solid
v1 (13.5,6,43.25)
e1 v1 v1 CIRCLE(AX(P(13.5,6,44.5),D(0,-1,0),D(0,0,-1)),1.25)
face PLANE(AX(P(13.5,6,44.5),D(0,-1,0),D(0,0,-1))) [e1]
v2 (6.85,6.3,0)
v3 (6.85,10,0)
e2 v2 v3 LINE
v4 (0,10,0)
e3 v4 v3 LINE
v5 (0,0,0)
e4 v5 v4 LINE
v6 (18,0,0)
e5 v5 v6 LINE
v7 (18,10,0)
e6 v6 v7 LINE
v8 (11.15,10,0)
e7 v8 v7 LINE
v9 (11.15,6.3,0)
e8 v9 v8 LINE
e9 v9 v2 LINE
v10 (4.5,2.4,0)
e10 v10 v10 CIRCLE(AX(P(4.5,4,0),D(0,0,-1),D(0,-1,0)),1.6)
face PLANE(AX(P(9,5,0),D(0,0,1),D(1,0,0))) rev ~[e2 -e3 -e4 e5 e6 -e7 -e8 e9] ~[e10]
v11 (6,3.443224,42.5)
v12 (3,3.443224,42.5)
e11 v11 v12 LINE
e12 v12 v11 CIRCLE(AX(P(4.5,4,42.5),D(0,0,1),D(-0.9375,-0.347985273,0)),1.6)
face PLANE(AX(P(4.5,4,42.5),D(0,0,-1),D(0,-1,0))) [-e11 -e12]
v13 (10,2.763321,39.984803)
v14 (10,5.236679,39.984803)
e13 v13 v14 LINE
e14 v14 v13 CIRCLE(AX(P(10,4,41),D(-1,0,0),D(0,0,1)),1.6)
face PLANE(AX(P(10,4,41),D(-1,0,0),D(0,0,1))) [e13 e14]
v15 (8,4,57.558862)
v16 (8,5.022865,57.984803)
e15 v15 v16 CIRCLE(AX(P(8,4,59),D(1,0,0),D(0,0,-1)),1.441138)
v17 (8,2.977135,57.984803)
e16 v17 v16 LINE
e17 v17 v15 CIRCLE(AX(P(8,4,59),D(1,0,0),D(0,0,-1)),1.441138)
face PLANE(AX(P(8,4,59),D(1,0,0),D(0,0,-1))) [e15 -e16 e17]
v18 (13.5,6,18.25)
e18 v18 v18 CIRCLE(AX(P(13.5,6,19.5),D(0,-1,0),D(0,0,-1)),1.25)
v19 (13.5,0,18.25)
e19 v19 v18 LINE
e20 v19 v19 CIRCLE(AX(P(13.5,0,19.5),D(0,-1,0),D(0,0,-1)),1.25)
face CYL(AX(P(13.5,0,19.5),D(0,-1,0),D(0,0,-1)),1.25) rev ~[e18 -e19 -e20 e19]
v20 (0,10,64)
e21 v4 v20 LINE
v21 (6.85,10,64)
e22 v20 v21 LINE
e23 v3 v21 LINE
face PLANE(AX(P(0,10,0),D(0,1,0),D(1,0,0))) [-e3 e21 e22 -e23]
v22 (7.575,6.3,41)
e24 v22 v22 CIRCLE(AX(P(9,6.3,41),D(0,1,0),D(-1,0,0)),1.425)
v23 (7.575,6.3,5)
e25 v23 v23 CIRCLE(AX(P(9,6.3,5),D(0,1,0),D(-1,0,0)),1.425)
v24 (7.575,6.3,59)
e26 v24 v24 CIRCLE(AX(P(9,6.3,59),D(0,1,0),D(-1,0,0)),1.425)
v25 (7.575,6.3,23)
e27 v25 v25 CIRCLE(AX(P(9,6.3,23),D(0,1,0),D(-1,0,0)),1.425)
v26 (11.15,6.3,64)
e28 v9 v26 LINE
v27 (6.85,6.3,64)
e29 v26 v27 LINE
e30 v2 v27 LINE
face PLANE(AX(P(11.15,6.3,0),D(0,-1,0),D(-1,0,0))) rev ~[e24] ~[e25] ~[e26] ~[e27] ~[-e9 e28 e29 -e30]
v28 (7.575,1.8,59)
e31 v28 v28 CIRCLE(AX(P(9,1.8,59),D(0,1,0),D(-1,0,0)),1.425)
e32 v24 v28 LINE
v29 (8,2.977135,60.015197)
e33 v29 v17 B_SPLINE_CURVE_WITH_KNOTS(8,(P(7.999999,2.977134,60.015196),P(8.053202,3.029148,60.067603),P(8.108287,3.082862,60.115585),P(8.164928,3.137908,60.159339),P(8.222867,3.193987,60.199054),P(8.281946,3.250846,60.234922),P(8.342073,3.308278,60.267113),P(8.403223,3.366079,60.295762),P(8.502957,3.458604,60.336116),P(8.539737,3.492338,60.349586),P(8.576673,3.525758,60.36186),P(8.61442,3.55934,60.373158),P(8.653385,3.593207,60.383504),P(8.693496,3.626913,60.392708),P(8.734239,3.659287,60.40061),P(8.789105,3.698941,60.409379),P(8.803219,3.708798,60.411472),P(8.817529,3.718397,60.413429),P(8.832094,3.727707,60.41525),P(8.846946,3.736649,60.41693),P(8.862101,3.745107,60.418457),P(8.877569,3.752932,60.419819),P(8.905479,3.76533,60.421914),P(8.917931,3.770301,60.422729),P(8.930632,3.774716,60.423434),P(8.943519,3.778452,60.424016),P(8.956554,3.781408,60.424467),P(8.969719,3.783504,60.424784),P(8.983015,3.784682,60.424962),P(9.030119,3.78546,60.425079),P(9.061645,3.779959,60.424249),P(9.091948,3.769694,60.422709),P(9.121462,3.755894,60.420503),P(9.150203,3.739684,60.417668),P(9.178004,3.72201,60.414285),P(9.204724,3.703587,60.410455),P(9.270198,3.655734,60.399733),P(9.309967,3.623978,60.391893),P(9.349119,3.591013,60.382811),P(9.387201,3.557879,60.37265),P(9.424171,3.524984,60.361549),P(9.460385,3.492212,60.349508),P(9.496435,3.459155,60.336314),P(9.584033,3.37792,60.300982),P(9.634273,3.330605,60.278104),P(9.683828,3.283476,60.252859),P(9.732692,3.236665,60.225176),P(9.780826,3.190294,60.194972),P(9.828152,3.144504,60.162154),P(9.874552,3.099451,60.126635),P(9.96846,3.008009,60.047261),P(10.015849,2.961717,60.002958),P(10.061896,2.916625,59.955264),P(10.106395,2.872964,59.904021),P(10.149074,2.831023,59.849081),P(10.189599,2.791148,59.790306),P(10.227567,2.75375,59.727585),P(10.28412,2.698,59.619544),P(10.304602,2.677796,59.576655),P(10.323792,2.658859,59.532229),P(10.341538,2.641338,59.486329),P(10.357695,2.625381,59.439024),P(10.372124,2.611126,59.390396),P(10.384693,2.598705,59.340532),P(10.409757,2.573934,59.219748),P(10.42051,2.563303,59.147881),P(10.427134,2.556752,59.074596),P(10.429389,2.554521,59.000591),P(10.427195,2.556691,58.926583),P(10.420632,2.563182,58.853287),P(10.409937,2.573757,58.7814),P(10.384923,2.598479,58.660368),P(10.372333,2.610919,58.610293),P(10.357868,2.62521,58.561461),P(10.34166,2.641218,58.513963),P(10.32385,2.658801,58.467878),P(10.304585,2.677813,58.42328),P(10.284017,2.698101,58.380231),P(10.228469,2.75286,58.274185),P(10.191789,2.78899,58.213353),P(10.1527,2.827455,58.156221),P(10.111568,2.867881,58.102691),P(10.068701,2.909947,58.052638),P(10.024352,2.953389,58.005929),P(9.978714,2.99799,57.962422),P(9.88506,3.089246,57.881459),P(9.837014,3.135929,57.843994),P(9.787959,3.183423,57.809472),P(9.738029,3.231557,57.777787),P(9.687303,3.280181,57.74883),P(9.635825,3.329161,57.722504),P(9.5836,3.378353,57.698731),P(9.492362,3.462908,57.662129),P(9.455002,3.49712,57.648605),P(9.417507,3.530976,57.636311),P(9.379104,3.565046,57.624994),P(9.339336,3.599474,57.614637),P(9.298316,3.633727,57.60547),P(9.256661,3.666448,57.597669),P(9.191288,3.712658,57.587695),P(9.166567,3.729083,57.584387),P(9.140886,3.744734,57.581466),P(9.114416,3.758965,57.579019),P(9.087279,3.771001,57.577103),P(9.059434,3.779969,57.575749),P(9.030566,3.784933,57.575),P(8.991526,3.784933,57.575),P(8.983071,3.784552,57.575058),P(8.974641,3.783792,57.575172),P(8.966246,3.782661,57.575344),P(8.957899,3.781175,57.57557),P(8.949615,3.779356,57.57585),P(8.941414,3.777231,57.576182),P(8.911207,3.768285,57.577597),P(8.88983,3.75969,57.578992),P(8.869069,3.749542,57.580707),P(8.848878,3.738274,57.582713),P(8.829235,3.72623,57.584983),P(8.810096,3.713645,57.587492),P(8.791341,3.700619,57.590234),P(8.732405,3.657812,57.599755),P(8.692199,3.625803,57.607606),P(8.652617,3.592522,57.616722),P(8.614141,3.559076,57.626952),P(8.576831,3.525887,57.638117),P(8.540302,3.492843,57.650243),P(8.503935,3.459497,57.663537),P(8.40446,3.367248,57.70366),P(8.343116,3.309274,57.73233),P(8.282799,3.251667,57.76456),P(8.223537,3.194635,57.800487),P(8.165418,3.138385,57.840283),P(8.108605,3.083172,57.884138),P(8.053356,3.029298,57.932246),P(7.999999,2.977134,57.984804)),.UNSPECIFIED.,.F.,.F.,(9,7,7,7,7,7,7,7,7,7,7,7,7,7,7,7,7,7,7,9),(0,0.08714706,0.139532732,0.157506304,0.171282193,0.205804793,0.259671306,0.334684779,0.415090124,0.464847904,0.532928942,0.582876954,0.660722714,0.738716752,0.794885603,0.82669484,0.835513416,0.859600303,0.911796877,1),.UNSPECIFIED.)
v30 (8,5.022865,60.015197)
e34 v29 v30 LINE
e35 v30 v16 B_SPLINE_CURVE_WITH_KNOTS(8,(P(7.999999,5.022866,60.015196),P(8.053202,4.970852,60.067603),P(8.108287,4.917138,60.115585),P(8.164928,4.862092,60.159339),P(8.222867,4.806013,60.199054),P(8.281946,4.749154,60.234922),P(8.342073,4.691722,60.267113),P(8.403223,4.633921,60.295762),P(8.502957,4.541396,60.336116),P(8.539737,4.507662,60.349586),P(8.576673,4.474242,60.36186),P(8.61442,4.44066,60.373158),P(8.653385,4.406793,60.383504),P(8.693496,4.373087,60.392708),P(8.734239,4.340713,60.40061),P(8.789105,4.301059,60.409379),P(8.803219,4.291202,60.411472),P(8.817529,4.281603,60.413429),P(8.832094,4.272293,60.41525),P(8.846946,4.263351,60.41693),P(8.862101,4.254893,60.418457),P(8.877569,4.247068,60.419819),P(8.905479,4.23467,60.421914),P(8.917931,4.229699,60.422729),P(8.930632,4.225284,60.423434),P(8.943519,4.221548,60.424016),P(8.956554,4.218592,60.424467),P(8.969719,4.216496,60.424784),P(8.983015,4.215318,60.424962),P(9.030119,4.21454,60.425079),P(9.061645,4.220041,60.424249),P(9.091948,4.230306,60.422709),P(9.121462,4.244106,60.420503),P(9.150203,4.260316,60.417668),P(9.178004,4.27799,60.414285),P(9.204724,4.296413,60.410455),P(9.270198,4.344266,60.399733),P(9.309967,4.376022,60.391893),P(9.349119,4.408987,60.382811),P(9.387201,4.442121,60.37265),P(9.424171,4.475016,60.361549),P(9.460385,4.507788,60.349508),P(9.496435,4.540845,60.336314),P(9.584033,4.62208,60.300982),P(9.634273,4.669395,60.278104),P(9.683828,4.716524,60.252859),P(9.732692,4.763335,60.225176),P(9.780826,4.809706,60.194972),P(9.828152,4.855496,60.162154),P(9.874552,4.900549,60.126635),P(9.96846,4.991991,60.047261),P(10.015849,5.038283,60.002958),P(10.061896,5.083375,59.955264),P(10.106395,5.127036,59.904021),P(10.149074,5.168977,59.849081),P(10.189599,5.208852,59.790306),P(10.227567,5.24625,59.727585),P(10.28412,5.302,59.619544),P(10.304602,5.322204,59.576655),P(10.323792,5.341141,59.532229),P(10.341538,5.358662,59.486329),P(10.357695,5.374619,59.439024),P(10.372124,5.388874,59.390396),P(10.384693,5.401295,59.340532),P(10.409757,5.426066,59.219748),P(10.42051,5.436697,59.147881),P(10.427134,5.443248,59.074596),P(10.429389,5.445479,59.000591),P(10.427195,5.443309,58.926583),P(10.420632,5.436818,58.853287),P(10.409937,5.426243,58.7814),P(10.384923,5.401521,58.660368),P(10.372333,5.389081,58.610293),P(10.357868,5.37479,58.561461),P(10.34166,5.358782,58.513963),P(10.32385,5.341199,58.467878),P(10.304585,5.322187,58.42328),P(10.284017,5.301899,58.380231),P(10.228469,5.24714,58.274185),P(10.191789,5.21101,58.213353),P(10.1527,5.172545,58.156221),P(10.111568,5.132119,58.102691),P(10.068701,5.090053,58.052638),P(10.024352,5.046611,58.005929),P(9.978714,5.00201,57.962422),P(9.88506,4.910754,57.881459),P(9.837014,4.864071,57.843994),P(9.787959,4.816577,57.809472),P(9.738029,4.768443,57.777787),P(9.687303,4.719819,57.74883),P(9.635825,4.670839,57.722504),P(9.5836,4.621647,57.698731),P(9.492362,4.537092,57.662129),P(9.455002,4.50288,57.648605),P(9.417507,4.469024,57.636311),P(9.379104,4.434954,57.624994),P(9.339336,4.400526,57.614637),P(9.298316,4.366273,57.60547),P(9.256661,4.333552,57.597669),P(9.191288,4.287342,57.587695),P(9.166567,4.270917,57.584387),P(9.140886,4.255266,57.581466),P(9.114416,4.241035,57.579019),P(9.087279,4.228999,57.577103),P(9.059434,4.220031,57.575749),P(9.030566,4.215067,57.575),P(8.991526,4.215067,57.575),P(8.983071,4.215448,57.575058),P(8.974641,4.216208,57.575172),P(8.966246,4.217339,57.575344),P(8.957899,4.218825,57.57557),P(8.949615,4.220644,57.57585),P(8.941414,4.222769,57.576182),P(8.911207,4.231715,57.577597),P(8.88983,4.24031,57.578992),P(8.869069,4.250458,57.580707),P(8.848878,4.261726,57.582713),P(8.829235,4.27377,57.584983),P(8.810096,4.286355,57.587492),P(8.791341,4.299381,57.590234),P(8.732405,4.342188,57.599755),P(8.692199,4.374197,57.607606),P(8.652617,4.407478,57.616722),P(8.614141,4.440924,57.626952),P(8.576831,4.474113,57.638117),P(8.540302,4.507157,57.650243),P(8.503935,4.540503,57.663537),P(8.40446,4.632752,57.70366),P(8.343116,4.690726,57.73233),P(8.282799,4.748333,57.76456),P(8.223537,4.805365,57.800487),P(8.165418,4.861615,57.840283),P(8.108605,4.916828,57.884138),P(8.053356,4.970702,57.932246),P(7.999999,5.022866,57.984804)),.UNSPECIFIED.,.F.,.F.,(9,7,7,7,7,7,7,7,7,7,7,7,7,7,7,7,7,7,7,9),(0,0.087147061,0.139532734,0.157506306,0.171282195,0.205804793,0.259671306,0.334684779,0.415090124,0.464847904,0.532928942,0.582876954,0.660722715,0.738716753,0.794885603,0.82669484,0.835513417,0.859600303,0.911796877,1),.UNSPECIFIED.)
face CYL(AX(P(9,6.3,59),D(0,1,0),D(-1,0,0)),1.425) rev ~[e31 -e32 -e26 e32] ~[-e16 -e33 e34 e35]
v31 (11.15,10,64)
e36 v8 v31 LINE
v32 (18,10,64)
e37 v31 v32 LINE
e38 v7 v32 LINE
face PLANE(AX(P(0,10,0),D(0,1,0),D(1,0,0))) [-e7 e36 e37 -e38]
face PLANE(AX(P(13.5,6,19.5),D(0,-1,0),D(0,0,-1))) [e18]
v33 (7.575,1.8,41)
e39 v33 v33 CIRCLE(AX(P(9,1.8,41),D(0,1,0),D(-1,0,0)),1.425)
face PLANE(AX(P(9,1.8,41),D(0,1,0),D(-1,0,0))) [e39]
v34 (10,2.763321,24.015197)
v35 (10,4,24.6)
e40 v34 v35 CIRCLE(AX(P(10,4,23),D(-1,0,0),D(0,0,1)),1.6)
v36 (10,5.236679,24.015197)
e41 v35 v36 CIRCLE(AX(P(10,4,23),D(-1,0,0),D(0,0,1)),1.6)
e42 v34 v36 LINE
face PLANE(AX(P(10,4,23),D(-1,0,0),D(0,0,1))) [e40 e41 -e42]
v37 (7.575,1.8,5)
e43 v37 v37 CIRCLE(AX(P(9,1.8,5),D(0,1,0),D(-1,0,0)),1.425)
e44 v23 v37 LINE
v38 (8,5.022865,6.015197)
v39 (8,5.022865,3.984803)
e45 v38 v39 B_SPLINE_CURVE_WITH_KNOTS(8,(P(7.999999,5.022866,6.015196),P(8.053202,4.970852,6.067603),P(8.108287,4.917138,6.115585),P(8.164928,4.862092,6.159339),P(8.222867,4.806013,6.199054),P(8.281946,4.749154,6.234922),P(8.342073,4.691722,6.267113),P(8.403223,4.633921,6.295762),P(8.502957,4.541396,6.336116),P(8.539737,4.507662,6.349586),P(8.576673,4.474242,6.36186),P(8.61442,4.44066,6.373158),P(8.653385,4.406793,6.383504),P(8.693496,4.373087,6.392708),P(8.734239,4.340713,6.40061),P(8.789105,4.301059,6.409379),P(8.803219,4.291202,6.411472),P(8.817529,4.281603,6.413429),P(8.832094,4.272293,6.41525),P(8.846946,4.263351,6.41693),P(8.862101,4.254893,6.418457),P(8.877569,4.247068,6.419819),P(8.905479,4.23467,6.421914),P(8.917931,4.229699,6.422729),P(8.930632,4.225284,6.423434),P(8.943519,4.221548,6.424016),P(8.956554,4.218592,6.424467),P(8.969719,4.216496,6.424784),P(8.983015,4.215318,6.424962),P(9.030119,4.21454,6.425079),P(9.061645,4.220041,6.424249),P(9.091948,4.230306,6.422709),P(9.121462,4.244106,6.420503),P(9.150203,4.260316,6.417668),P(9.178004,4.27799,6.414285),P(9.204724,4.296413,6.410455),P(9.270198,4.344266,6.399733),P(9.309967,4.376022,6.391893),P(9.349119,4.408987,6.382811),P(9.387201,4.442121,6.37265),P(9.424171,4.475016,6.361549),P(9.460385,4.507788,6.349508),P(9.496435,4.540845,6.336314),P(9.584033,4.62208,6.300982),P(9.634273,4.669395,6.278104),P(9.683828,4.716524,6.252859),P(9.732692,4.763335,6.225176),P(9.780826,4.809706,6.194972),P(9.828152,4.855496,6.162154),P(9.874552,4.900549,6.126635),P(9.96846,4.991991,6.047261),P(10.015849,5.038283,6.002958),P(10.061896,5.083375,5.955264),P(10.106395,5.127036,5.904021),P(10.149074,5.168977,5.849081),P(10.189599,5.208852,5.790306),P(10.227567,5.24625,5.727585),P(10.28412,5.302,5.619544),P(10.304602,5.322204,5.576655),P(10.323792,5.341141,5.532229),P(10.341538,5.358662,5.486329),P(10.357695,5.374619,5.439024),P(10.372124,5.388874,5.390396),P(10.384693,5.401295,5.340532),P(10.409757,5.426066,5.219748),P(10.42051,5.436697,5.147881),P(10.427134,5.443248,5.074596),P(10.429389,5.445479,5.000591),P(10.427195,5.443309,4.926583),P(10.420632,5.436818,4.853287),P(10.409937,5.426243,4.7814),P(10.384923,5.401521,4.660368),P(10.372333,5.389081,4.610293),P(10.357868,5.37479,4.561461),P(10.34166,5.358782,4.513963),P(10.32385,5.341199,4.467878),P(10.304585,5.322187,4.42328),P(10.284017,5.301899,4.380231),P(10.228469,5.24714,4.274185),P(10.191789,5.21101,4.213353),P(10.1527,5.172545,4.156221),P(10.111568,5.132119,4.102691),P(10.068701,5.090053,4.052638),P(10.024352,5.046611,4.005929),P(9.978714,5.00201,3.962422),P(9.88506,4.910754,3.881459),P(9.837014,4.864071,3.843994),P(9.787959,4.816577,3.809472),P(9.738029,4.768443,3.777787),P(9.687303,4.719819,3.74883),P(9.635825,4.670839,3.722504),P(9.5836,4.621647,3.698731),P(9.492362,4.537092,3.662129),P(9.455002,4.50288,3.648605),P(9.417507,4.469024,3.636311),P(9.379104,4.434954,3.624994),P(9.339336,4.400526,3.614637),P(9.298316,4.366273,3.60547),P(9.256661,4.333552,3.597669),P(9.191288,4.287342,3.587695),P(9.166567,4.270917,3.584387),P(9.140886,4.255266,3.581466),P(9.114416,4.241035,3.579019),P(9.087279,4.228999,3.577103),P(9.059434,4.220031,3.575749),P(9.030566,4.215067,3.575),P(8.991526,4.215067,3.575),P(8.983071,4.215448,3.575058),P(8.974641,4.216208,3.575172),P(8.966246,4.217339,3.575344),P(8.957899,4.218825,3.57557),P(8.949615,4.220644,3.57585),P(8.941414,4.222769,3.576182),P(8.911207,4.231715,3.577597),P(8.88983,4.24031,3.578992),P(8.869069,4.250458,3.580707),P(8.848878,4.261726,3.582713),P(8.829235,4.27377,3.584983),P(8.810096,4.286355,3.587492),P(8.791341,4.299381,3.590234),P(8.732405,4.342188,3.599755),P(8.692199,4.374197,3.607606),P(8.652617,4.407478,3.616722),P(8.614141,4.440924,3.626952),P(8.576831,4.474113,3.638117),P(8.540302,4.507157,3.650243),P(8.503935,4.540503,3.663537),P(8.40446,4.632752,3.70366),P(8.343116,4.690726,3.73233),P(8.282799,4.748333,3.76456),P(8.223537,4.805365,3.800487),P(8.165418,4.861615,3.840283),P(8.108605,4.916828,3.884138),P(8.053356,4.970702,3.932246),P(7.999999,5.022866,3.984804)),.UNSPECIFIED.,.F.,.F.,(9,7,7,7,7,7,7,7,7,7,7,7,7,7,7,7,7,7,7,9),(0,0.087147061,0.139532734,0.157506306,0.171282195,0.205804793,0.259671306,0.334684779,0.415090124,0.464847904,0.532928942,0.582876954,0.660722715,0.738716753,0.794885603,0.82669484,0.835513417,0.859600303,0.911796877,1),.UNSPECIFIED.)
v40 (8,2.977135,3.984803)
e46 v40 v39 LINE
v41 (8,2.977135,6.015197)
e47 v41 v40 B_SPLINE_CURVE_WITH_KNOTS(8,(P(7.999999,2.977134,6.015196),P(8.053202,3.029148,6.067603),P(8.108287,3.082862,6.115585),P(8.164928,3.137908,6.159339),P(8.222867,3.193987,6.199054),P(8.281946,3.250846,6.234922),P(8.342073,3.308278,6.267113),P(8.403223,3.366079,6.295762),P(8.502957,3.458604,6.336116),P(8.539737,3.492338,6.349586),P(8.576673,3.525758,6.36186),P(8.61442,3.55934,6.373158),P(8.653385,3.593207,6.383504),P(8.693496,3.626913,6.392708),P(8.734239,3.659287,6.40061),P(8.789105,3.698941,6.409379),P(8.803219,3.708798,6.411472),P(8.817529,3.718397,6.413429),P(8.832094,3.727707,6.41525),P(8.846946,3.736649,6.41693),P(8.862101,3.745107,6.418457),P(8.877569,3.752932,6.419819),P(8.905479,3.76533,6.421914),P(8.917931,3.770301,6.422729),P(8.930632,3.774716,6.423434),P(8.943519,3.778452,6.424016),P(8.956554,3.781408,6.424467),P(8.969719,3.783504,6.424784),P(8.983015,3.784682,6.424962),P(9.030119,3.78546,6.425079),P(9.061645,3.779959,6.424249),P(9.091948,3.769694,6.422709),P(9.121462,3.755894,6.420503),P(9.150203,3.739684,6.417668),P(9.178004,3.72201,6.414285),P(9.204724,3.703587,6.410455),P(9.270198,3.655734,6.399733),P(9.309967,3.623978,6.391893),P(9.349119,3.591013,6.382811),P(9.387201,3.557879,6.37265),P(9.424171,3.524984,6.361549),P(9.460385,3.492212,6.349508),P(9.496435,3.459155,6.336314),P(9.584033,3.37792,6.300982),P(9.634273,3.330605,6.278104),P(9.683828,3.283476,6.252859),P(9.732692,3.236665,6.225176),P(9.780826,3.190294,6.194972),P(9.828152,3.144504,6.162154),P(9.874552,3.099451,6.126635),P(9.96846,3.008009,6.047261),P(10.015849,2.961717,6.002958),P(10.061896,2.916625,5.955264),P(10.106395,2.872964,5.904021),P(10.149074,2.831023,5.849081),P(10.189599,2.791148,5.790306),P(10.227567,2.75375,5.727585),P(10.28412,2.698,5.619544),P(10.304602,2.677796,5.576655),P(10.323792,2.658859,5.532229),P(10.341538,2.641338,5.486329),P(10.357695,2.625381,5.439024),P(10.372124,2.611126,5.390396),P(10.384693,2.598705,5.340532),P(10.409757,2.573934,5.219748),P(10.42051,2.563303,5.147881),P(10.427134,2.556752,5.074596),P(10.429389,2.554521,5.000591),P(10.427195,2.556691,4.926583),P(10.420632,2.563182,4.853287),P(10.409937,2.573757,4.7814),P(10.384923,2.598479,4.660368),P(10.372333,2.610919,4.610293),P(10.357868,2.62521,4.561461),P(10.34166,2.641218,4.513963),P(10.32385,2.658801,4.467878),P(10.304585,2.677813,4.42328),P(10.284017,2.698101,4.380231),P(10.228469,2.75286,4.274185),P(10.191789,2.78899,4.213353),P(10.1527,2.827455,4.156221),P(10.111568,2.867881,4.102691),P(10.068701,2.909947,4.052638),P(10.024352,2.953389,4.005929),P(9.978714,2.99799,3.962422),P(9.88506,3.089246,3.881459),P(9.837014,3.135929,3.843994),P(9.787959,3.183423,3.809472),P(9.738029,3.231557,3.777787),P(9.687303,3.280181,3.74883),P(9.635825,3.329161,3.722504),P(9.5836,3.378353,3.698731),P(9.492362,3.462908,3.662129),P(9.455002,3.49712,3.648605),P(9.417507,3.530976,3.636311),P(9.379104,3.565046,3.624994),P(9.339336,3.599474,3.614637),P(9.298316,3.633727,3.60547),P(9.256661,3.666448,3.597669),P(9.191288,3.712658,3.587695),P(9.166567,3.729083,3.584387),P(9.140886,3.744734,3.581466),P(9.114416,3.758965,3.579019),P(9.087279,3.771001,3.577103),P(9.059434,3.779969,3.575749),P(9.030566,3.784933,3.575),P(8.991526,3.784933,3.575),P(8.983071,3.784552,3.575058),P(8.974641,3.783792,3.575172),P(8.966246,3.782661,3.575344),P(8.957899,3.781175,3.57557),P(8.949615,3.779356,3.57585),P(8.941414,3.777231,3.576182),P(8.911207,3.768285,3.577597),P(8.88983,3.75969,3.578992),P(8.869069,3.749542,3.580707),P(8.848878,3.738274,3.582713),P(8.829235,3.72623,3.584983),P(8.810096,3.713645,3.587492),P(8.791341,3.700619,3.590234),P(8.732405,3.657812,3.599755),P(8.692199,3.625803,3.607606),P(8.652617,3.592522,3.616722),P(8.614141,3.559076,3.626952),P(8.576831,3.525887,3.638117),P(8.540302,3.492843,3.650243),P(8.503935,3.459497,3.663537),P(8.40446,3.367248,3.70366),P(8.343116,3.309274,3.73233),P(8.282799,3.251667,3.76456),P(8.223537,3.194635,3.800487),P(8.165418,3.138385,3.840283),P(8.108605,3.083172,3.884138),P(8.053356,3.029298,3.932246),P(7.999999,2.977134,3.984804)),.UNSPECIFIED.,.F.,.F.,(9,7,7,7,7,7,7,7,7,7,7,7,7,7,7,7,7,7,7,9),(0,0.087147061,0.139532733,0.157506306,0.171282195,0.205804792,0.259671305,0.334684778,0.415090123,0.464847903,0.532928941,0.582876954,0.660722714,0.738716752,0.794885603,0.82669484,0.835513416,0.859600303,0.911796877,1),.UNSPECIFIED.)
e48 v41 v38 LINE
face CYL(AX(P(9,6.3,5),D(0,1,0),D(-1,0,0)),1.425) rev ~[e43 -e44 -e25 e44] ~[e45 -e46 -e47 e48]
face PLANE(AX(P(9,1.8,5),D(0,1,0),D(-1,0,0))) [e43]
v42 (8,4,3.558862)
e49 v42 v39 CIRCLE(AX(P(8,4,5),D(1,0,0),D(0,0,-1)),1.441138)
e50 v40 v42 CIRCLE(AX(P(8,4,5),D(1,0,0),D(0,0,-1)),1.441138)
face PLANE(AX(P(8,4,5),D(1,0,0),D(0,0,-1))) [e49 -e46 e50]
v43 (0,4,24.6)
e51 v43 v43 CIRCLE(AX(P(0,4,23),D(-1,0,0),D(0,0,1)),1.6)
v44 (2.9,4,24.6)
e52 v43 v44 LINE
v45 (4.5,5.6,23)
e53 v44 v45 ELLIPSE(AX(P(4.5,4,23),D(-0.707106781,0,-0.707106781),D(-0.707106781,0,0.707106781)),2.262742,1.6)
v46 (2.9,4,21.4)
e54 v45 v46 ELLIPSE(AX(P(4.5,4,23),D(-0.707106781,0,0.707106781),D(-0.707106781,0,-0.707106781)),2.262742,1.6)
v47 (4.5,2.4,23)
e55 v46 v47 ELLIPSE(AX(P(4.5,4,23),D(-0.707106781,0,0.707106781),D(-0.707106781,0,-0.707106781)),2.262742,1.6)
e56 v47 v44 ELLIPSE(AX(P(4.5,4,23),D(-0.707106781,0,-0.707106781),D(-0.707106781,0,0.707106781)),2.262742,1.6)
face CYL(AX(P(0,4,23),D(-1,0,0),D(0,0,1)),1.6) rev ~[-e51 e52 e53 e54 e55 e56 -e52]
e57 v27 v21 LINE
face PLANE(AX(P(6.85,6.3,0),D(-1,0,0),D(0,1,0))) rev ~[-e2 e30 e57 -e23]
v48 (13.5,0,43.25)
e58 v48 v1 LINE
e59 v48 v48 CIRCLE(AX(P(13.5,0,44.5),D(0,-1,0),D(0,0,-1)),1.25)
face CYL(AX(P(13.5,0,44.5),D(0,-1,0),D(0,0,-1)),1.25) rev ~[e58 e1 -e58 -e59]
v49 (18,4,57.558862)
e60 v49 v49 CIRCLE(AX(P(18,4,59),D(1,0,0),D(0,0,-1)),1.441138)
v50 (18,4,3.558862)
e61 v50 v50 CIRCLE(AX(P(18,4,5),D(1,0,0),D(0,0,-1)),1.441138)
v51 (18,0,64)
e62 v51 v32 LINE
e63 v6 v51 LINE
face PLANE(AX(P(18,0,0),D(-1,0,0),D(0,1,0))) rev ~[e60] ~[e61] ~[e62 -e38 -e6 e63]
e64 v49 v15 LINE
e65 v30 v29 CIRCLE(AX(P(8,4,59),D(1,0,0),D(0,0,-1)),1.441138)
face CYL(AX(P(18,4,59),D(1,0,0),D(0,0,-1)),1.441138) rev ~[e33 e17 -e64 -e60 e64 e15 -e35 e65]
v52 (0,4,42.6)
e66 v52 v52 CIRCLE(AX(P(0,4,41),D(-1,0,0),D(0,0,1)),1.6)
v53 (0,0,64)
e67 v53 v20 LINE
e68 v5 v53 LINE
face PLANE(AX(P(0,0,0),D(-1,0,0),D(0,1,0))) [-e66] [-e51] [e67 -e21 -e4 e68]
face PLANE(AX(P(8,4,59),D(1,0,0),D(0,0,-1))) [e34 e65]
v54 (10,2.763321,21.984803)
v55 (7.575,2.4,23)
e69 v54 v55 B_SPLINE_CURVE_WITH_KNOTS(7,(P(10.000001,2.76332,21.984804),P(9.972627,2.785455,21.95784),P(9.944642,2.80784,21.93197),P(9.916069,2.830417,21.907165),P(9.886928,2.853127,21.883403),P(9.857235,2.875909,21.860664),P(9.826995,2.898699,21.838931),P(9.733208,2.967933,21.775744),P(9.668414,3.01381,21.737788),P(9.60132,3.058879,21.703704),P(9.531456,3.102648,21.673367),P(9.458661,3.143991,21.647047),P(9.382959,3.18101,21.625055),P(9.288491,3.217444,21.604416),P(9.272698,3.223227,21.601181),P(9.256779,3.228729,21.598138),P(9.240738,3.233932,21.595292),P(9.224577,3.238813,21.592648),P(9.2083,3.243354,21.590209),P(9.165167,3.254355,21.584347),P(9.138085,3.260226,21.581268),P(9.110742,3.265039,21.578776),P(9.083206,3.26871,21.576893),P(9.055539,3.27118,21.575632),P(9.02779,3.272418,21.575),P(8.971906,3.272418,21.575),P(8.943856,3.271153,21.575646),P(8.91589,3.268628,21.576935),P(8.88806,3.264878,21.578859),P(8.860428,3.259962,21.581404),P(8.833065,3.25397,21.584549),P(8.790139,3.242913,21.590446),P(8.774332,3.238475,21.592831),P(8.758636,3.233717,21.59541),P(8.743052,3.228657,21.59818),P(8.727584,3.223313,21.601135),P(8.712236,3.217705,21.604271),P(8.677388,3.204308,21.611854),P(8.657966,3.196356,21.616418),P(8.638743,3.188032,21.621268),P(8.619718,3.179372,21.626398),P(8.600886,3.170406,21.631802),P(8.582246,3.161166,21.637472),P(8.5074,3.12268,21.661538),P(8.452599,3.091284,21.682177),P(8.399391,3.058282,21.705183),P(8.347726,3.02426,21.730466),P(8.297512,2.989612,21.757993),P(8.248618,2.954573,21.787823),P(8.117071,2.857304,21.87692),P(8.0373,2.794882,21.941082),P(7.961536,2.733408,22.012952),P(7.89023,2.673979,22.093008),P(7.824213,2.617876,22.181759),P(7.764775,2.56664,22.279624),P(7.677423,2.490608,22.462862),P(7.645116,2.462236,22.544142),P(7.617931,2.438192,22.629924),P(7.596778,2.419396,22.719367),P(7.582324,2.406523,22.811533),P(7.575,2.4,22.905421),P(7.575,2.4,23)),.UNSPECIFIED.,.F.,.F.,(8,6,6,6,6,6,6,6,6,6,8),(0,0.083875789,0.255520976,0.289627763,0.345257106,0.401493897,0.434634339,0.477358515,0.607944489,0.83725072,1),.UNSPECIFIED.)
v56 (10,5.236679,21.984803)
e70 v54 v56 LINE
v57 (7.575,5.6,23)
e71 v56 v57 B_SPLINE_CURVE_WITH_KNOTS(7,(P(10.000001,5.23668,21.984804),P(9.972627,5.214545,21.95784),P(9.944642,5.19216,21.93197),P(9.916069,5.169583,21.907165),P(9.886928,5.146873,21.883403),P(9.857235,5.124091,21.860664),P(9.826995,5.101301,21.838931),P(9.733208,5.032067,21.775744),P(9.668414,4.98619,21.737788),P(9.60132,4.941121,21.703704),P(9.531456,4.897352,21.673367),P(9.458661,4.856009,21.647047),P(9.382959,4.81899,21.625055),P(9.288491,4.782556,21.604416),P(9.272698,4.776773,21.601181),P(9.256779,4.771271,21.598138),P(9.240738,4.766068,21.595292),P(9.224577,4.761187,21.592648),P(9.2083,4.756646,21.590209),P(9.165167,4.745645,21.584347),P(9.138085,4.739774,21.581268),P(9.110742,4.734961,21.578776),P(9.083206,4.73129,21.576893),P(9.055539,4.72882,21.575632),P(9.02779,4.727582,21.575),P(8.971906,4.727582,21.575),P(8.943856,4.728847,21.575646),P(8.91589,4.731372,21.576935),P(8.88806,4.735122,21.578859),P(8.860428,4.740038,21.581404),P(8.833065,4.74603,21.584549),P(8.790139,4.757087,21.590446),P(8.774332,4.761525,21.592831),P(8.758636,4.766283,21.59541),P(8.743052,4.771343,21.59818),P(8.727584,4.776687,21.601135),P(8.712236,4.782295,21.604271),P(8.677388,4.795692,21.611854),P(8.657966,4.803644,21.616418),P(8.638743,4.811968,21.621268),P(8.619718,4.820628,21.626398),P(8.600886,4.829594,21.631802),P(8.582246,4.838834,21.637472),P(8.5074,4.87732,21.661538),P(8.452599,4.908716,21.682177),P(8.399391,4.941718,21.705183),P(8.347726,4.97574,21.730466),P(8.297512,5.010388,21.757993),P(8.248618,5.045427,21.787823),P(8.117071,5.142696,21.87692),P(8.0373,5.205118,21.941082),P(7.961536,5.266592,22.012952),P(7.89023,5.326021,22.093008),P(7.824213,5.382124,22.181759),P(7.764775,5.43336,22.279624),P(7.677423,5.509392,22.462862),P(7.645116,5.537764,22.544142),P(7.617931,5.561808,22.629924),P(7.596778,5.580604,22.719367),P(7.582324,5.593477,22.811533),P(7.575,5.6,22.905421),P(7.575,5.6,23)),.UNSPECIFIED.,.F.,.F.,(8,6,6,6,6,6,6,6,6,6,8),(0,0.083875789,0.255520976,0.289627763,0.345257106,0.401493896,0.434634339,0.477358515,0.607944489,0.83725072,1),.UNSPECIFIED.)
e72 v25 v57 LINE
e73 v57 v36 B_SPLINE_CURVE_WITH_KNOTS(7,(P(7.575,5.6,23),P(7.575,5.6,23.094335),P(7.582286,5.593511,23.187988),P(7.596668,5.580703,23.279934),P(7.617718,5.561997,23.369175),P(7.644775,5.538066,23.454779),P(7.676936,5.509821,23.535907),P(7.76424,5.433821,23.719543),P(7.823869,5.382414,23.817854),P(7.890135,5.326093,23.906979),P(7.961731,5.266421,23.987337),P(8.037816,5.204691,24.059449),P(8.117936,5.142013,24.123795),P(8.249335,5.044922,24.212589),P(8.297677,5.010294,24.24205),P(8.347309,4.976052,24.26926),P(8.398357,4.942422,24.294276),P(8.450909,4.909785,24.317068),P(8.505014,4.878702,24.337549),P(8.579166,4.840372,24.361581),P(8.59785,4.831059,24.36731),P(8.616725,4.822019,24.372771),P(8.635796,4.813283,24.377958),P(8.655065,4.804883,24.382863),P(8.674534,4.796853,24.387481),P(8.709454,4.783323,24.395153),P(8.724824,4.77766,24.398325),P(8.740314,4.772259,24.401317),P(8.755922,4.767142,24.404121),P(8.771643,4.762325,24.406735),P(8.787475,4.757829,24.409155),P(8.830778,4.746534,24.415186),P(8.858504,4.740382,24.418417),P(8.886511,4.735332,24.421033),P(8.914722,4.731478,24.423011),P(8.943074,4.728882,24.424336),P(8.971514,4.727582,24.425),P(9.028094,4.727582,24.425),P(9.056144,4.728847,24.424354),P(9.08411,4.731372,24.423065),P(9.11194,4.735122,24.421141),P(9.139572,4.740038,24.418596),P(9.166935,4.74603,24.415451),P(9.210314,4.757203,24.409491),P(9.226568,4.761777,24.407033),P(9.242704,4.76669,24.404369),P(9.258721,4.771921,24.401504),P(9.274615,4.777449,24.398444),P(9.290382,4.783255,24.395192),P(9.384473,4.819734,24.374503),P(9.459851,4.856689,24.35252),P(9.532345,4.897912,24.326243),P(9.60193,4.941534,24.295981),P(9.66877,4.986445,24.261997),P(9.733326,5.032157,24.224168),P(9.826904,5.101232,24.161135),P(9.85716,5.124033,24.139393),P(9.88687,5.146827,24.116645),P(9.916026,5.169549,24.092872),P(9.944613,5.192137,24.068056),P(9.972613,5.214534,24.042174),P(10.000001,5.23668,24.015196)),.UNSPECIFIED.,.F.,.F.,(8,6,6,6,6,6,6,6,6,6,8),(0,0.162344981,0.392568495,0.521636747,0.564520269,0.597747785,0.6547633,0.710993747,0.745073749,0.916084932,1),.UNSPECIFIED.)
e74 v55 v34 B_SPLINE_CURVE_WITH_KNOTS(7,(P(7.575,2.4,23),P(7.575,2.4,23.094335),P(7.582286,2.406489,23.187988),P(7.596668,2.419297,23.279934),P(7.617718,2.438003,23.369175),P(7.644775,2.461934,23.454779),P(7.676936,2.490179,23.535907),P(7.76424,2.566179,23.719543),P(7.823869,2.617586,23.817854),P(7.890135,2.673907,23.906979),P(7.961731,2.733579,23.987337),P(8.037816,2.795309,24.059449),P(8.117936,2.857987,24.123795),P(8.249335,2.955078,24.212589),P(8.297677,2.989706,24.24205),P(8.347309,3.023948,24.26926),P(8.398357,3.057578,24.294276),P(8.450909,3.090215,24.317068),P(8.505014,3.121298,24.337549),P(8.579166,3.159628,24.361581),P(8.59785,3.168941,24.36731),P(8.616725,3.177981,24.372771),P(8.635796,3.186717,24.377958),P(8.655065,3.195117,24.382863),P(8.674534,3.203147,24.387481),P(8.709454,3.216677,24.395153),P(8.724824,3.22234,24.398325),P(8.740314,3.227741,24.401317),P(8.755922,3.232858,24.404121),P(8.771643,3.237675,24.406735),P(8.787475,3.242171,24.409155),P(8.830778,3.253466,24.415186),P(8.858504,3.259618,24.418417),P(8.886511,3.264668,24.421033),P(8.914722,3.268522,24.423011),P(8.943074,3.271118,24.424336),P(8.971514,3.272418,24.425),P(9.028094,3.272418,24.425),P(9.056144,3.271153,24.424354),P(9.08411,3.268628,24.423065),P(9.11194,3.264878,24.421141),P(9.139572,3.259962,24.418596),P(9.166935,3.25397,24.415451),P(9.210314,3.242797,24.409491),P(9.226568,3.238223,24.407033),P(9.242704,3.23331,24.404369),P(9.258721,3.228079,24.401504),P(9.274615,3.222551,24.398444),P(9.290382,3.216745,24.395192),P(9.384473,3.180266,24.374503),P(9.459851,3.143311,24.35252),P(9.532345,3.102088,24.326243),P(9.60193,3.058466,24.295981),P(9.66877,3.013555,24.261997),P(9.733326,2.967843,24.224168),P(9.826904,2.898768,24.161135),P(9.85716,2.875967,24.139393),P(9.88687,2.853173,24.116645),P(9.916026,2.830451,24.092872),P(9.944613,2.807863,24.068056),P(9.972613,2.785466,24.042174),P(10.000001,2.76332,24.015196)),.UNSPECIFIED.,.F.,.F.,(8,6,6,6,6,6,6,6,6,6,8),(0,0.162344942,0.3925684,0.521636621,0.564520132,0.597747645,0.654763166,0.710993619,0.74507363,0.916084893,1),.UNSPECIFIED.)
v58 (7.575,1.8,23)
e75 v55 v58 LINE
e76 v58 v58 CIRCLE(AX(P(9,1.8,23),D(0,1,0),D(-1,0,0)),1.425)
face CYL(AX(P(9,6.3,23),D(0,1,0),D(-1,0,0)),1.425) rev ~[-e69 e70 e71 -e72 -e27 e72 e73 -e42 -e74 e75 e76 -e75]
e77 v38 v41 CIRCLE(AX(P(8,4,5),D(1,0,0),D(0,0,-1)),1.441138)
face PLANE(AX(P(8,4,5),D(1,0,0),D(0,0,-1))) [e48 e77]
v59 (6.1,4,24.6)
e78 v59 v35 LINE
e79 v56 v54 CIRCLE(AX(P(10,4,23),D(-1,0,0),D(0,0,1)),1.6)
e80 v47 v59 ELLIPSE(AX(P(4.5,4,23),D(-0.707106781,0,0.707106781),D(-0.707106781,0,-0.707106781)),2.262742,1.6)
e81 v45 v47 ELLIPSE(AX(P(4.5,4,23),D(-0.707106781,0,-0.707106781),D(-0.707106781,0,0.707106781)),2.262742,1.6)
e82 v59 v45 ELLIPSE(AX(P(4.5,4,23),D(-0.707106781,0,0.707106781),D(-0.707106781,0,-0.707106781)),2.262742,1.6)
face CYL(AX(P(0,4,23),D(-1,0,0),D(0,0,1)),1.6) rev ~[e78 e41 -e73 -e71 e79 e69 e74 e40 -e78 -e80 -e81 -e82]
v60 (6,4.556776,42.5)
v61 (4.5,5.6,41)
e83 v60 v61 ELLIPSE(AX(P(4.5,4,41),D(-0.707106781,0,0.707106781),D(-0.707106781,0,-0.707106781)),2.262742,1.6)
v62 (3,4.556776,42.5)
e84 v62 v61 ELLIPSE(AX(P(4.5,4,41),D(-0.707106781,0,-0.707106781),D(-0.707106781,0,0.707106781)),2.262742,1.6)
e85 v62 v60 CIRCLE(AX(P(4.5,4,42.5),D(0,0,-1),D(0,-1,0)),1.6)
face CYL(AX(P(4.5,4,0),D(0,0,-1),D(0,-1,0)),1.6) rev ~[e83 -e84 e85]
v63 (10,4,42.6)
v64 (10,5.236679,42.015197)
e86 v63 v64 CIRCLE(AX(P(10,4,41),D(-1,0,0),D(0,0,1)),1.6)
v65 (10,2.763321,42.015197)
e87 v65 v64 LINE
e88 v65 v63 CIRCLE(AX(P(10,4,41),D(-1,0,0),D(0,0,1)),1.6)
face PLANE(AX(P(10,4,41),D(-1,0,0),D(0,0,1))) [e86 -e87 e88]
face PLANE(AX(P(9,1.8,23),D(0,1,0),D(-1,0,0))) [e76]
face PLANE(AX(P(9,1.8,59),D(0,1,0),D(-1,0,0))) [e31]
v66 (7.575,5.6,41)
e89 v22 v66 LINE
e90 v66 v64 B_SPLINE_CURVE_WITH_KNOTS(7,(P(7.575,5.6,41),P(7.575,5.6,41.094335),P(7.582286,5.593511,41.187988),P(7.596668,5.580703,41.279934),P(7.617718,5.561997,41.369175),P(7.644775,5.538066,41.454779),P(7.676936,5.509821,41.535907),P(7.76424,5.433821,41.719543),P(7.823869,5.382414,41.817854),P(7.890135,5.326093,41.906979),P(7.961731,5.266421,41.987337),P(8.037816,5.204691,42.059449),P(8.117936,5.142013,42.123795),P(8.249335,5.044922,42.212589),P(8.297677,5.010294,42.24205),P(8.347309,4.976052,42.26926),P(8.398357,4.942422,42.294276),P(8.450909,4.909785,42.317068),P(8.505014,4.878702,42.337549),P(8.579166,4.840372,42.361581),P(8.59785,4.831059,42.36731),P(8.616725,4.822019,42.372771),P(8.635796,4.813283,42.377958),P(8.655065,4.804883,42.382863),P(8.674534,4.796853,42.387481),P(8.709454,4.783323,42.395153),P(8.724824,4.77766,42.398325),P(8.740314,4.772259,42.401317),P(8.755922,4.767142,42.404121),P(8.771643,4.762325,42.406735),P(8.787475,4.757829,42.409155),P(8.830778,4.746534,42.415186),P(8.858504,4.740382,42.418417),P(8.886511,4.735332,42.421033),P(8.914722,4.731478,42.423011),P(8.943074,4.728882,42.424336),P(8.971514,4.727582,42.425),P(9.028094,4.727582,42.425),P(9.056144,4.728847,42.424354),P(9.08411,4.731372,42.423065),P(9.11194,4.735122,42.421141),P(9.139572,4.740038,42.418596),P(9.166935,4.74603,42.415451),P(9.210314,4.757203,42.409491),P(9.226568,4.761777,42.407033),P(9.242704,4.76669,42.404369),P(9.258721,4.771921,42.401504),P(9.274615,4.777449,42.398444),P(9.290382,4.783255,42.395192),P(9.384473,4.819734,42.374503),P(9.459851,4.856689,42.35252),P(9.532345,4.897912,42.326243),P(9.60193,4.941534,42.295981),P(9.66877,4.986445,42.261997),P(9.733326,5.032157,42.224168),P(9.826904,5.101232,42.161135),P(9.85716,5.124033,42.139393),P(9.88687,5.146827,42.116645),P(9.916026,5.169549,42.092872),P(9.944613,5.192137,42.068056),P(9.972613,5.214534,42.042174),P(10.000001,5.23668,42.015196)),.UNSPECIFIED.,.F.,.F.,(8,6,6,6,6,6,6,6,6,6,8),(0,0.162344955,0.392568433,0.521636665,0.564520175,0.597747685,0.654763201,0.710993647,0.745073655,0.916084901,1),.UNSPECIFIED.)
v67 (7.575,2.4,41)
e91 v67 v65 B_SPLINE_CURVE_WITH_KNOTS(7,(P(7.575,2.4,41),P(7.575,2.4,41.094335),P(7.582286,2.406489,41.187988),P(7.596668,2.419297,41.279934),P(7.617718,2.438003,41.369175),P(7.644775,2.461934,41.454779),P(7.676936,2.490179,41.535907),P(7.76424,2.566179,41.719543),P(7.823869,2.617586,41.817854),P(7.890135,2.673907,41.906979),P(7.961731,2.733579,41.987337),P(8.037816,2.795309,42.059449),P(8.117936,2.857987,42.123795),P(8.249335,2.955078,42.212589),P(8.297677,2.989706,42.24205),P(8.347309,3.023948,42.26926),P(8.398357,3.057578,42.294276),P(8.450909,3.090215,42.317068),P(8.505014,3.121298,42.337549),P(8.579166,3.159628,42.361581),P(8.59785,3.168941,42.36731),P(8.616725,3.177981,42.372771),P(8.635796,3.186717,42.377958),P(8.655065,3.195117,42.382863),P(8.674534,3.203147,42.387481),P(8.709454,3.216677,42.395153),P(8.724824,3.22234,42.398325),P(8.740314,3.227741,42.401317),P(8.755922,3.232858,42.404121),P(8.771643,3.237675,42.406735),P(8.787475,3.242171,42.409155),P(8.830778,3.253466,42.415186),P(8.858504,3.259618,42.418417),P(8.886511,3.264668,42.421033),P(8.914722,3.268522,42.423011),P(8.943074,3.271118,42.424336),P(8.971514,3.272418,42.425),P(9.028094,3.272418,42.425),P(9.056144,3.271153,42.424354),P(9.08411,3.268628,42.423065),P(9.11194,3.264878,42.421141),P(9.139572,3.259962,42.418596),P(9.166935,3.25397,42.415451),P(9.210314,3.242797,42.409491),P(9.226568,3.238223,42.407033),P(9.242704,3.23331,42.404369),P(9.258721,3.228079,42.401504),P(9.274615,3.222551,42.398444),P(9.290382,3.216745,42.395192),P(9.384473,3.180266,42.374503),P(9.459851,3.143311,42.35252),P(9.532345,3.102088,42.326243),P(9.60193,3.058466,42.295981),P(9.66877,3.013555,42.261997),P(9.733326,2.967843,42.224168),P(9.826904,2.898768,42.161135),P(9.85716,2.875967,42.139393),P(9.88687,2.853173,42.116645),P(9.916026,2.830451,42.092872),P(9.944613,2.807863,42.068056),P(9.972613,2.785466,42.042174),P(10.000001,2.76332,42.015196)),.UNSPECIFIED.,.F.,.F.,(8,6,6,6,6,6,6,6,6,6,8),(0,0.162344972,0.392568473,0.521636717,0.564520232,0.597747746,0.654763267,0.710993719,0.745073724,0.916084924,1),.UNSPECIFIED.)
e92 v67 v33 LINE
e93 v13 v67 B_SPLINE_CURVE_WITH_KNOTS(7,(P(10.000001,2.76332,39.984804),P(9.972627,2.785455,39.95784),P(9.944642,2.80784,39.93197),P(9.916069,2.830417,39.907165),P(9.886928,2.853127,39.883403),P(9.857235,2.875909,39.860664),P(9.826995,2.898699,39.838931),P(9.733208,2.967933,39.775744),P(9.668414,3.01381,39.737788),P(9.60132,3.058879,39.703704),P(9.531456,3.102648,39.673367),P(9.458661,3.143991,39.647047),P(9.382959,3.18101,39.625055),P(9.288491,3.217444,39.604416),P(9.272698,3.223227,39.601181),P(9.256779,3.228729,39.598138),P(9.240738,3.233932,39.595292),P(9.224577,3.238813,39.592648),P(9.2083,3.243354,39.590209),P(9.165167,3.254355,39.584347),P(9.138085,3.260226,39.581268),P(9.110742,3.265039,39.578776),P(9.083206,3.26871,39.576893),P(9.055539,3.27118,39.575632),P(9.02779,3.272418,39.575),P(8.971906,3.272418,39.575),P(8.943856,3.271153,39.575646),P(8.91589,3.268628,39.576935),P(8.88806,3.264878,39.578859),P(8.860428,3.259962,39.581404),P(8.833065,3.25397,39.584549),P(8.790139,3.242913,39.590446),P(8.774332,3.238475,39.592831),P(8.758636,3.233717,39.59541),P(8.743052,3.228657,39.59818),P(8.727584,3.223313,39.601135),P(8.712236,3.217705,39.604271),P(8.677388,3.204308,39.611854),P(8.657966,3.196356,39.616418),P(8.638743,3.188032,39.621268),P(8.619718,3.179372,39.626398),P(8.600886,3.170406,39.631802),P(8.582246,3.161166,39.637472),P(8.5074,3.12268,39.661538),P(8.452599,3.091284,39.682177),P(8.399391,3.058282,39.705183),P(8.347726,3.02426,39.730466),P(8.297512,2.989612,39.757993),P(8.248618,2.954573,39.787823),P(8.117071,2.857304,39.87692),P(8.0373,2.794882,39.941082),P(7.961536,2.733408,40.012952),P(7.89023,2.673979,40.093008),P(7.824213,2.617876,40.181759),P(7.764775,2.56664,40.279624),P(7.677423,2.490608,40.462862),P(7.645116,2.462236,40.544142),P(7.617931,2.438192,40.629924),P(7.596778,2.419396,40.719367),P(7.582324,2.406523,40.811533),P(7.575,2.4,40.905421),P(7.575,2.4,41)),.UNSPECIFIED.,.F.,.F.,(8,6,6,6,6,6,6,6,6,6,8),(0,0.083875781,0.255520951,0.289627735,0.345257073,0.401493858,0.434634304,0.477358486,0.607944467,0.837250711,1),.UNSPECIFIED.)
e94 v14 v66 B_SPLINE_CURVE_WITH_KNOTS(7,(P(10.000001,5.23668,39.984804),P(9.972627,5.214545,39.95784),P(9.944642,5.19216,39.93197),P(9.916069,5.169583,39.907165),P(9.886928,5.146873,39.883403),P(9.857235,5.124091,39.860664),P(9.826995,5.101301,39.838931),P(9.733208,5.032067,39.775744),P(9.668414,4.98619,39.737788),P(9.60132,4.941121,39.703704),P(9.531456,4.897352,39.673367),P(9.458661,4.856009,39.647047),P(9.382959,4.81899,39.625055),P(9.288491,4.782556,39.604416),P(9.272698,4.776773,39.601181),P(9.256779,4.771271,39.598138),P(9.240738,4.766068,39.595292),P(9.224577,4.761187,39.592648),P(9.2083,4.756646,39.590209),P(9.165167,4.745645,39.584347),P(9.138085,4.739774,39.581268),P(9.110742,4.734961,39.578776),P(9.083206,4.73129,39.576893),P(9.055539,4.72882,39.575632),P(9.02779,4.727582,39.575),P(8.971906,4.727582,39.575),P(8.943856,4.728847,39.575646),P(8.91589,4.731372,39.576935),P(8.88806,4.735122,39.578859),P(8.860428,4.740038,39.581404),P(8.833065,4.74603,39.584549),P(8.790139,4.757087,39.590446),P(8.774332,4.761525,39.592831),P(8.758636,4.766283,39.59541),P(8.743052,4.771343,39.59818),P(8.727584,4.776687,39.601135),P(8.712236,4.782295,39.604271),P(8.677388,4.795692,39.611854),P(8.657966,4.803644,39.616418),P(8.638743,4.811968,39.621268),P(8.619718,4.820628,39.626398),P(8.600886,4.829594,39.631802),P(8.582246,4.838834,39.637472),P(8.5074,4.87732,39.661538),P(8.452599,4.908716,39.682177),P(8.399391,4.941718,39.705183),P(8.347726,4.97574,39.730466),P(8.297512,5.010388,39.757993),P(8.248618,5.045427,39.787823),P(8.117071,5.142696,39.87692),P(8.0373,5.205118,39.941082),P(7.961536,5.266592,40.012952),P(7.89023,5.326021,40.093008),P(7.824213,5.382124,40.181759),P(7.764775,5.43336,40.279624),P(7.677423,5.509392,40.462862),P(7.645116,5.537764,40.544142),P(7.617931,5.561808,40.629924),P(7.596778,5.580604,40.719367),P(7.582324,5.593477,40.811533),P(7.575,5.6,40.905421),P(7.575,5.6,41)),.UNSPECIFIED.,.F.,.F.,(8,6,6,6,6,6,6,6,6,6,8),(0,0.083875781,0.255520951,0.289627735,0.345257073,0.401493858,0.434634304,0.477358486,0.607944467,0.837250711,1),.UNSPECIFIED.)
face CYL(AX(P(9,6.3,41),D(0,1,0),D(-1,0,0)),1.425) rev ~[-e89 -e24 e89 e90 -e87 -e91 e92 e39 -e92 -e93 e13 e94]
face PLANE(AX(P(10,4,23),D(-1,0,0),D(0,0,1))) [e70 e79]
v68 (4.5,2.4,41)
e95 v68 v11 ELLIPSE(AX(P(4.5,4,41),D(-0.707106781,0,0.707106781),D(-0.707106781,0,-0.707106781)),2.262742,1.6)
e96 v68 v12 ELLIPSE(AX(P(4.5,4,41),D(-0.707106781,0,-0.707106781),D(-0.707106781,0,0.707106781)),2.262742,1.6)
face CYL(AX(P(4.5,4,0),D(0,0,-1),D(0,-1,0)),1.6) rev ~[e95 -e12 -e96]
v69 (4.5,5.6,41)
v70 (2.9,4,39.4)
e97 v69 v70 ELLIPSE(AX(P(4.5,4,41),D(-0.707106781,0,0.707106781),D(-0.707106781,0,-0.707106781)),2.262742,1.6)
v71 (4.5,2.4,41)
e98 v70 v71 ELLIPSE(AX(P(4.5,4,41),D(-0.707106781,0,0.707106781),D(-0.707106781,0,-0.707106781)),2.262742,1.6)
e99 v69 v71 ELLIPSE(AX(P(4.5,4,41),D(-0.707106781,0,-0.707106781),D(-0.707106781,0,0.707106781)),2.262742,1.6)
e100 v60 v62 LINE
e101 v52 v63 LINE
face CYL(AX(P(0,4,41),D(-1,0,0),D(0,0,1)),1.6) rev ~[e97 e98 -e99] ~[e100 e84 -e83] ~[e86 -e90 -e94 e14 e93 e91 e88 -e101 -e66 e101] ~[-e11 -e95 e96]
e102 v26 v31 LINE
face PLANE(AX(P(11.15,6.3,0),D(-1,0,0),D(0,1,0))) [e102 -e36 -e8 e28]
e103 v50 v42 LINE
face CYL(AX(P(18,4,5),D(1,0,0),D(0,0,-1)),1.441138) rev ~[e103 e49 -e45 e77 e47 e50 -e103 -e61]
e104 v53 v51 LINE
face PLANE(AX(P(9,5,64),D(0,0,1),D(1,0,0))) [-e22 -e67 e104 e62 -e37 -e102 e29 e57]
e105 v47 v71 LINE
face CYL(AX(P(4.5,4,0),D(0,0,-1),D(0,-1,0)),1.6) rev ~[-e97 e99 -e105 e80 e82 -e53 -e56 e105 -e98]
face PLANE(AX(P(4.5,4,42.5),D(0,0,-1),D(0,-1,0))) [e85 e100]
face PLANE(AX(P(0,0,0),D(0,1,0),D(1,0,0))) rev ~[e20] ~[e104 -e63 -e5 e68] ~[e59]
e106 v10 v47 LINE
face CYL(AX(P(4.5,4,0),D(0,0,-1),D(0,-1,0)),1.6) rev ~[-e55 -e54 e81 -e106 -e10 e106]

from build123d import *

# Parameters (mm, degrees)
SKETCH1_W           = 18
SKETCH1_H           = 10
BOSS_EXTRUDE2_DEPTH = 64
CUT_EXTRUDE1_REACH  = 69.231
SKETCH3_W           = 4.3
SKETCH3_H           = 3.7
SKETCH5_R           = 1.425
CUT_EXTRUDE3_DEPTH  = 4.5
SKETCH7_R           = 1.44113796
CUT_EXTRUDE5_DEPTH  = 10
SKETCH8_R           = 1.6
CUT_EXTRUDE6_DEPTH  = 10
SKETCH9_R           = 1.6
CUT_EXTRUDE7_DEPTH  = 42.5
SKETCH10_R          = 1.25
CUT_EXTRUDE8_DEPTH  = 6


with BuildPart() as part:
    # Sketch1 → Boss-Extrude2 (new body)
    with BuildSketch(Plane.XY):
        with Locations((9, 5)):
            Rectangle(SKETCH1_W, SKETCH1_H)
    extrude(amount=BOSS_EXTRUDE2_DEPTH)

    # Sketch3 → Cut-Extrude1 (cut, up to next)
    with BuildSketch(Plane(origin=(0, 0, 0), x_dir=(-1, 0, 0), z_dir=(0, 0, -1)), mode=Mode.PRIVATE) as cut_extrude1_sk1:
        with Locations((-9, 8.15)):
            Rectangle(SKETCH3_W, SKETCH3_H)
    cut_extrude1_tool1 = extrude(cut_extrude1_sk1.sketch, amount=-CUT_EXTRUDE1_REACH, mode=Mode.PRIVATE) & part.part
    add(cut_extrude1_tool1.solids().sort_by_distance((9, 8.15, 0))[0], mode=Mode.SUBTRACT)

    # Sketch5 → Cut-Extrude3 (cut)
    with BuildSketch(Plane(origin=(0, 6.3, 0), x_dir=(1, 0, 0), z_dir=(0, 1, 0))):
        with Locations(Location((9, -23, 0), (0, 0, 180))):
            Circle(SKETCH5_R)
        with Locations(Location((9, -41, 0), (0, 0, 180))):
            Circle(SKETCH5_R)
        with Locations(Location((9, -5, 0), (0, 0, 180))):
            Circle(SKETCH5_R)
        with Locations(Location((9, -59, 0), (0, 0, 180))):
            Circle(SKETCH5_R)
    extrude(amount=-CUT_EXTRUDE3_DEPTH, mode=Mode.SUBTRACT)

    # Sketch7 → Cut-Extrude5 (cut)
    with BuildSketch(Plane(origin=(18, 0, 0), x_dir=(0, 0, -1), z_dir=(1, 0, 0))):
        with Locations((-5, 4)):
            Circle(SKETCH7_R)
        with Locations((-59, 4)):
            Circle(SKETCH7_R)
    extrude(amount=-CUT_EXTRUDE5_DEPTH, mode=Mode.SUBTRACT)

    # Sketch8 → Cut-Extrude6 (cut)
    with BuildSketch(Plane.ZY):
        with Locations((23, 4)):
            Circle(SKETCH8_R)
        with Locations((41, 4)):
            Circle(SKETCH8_R)
    extrude(amount=-CUT_EXTRUDE6_DEPTH, mode=Mode.SUBTRACT)

    # Sketch9 → Cut-Extrude7 (cut)
    with BuildSketch(Plane(origin=(0, 0, 0), x_dir=(-1, 0, 0), z_dir=(0, 0, -1))):
        with Locations(Location((-4.5, 4, 0), (0, 0, 270))):
            Circle(SKETCH9_R)
    extrude(amount=-CUT_EXTRUDE7_DEPTH, mode=Mode.SUBTRACT)

    # Sketch10 → Cut-Extrude8 (cut)
    with BuildSketch(Plane.XZ):
        with Locations(Location((13.5, 19.5, 0), (0, 0, 270))):
            Circle(SKETCH10_R)
        with Locations(Location((13.5, 44.5, 0), (0, 0, 270))):
            Circle(SKETCH10_R)
    extrude(amount=-CUT_EXTRUDE8_DEPTH, mode=Mode.SUBTRACT)


solid = part.part
